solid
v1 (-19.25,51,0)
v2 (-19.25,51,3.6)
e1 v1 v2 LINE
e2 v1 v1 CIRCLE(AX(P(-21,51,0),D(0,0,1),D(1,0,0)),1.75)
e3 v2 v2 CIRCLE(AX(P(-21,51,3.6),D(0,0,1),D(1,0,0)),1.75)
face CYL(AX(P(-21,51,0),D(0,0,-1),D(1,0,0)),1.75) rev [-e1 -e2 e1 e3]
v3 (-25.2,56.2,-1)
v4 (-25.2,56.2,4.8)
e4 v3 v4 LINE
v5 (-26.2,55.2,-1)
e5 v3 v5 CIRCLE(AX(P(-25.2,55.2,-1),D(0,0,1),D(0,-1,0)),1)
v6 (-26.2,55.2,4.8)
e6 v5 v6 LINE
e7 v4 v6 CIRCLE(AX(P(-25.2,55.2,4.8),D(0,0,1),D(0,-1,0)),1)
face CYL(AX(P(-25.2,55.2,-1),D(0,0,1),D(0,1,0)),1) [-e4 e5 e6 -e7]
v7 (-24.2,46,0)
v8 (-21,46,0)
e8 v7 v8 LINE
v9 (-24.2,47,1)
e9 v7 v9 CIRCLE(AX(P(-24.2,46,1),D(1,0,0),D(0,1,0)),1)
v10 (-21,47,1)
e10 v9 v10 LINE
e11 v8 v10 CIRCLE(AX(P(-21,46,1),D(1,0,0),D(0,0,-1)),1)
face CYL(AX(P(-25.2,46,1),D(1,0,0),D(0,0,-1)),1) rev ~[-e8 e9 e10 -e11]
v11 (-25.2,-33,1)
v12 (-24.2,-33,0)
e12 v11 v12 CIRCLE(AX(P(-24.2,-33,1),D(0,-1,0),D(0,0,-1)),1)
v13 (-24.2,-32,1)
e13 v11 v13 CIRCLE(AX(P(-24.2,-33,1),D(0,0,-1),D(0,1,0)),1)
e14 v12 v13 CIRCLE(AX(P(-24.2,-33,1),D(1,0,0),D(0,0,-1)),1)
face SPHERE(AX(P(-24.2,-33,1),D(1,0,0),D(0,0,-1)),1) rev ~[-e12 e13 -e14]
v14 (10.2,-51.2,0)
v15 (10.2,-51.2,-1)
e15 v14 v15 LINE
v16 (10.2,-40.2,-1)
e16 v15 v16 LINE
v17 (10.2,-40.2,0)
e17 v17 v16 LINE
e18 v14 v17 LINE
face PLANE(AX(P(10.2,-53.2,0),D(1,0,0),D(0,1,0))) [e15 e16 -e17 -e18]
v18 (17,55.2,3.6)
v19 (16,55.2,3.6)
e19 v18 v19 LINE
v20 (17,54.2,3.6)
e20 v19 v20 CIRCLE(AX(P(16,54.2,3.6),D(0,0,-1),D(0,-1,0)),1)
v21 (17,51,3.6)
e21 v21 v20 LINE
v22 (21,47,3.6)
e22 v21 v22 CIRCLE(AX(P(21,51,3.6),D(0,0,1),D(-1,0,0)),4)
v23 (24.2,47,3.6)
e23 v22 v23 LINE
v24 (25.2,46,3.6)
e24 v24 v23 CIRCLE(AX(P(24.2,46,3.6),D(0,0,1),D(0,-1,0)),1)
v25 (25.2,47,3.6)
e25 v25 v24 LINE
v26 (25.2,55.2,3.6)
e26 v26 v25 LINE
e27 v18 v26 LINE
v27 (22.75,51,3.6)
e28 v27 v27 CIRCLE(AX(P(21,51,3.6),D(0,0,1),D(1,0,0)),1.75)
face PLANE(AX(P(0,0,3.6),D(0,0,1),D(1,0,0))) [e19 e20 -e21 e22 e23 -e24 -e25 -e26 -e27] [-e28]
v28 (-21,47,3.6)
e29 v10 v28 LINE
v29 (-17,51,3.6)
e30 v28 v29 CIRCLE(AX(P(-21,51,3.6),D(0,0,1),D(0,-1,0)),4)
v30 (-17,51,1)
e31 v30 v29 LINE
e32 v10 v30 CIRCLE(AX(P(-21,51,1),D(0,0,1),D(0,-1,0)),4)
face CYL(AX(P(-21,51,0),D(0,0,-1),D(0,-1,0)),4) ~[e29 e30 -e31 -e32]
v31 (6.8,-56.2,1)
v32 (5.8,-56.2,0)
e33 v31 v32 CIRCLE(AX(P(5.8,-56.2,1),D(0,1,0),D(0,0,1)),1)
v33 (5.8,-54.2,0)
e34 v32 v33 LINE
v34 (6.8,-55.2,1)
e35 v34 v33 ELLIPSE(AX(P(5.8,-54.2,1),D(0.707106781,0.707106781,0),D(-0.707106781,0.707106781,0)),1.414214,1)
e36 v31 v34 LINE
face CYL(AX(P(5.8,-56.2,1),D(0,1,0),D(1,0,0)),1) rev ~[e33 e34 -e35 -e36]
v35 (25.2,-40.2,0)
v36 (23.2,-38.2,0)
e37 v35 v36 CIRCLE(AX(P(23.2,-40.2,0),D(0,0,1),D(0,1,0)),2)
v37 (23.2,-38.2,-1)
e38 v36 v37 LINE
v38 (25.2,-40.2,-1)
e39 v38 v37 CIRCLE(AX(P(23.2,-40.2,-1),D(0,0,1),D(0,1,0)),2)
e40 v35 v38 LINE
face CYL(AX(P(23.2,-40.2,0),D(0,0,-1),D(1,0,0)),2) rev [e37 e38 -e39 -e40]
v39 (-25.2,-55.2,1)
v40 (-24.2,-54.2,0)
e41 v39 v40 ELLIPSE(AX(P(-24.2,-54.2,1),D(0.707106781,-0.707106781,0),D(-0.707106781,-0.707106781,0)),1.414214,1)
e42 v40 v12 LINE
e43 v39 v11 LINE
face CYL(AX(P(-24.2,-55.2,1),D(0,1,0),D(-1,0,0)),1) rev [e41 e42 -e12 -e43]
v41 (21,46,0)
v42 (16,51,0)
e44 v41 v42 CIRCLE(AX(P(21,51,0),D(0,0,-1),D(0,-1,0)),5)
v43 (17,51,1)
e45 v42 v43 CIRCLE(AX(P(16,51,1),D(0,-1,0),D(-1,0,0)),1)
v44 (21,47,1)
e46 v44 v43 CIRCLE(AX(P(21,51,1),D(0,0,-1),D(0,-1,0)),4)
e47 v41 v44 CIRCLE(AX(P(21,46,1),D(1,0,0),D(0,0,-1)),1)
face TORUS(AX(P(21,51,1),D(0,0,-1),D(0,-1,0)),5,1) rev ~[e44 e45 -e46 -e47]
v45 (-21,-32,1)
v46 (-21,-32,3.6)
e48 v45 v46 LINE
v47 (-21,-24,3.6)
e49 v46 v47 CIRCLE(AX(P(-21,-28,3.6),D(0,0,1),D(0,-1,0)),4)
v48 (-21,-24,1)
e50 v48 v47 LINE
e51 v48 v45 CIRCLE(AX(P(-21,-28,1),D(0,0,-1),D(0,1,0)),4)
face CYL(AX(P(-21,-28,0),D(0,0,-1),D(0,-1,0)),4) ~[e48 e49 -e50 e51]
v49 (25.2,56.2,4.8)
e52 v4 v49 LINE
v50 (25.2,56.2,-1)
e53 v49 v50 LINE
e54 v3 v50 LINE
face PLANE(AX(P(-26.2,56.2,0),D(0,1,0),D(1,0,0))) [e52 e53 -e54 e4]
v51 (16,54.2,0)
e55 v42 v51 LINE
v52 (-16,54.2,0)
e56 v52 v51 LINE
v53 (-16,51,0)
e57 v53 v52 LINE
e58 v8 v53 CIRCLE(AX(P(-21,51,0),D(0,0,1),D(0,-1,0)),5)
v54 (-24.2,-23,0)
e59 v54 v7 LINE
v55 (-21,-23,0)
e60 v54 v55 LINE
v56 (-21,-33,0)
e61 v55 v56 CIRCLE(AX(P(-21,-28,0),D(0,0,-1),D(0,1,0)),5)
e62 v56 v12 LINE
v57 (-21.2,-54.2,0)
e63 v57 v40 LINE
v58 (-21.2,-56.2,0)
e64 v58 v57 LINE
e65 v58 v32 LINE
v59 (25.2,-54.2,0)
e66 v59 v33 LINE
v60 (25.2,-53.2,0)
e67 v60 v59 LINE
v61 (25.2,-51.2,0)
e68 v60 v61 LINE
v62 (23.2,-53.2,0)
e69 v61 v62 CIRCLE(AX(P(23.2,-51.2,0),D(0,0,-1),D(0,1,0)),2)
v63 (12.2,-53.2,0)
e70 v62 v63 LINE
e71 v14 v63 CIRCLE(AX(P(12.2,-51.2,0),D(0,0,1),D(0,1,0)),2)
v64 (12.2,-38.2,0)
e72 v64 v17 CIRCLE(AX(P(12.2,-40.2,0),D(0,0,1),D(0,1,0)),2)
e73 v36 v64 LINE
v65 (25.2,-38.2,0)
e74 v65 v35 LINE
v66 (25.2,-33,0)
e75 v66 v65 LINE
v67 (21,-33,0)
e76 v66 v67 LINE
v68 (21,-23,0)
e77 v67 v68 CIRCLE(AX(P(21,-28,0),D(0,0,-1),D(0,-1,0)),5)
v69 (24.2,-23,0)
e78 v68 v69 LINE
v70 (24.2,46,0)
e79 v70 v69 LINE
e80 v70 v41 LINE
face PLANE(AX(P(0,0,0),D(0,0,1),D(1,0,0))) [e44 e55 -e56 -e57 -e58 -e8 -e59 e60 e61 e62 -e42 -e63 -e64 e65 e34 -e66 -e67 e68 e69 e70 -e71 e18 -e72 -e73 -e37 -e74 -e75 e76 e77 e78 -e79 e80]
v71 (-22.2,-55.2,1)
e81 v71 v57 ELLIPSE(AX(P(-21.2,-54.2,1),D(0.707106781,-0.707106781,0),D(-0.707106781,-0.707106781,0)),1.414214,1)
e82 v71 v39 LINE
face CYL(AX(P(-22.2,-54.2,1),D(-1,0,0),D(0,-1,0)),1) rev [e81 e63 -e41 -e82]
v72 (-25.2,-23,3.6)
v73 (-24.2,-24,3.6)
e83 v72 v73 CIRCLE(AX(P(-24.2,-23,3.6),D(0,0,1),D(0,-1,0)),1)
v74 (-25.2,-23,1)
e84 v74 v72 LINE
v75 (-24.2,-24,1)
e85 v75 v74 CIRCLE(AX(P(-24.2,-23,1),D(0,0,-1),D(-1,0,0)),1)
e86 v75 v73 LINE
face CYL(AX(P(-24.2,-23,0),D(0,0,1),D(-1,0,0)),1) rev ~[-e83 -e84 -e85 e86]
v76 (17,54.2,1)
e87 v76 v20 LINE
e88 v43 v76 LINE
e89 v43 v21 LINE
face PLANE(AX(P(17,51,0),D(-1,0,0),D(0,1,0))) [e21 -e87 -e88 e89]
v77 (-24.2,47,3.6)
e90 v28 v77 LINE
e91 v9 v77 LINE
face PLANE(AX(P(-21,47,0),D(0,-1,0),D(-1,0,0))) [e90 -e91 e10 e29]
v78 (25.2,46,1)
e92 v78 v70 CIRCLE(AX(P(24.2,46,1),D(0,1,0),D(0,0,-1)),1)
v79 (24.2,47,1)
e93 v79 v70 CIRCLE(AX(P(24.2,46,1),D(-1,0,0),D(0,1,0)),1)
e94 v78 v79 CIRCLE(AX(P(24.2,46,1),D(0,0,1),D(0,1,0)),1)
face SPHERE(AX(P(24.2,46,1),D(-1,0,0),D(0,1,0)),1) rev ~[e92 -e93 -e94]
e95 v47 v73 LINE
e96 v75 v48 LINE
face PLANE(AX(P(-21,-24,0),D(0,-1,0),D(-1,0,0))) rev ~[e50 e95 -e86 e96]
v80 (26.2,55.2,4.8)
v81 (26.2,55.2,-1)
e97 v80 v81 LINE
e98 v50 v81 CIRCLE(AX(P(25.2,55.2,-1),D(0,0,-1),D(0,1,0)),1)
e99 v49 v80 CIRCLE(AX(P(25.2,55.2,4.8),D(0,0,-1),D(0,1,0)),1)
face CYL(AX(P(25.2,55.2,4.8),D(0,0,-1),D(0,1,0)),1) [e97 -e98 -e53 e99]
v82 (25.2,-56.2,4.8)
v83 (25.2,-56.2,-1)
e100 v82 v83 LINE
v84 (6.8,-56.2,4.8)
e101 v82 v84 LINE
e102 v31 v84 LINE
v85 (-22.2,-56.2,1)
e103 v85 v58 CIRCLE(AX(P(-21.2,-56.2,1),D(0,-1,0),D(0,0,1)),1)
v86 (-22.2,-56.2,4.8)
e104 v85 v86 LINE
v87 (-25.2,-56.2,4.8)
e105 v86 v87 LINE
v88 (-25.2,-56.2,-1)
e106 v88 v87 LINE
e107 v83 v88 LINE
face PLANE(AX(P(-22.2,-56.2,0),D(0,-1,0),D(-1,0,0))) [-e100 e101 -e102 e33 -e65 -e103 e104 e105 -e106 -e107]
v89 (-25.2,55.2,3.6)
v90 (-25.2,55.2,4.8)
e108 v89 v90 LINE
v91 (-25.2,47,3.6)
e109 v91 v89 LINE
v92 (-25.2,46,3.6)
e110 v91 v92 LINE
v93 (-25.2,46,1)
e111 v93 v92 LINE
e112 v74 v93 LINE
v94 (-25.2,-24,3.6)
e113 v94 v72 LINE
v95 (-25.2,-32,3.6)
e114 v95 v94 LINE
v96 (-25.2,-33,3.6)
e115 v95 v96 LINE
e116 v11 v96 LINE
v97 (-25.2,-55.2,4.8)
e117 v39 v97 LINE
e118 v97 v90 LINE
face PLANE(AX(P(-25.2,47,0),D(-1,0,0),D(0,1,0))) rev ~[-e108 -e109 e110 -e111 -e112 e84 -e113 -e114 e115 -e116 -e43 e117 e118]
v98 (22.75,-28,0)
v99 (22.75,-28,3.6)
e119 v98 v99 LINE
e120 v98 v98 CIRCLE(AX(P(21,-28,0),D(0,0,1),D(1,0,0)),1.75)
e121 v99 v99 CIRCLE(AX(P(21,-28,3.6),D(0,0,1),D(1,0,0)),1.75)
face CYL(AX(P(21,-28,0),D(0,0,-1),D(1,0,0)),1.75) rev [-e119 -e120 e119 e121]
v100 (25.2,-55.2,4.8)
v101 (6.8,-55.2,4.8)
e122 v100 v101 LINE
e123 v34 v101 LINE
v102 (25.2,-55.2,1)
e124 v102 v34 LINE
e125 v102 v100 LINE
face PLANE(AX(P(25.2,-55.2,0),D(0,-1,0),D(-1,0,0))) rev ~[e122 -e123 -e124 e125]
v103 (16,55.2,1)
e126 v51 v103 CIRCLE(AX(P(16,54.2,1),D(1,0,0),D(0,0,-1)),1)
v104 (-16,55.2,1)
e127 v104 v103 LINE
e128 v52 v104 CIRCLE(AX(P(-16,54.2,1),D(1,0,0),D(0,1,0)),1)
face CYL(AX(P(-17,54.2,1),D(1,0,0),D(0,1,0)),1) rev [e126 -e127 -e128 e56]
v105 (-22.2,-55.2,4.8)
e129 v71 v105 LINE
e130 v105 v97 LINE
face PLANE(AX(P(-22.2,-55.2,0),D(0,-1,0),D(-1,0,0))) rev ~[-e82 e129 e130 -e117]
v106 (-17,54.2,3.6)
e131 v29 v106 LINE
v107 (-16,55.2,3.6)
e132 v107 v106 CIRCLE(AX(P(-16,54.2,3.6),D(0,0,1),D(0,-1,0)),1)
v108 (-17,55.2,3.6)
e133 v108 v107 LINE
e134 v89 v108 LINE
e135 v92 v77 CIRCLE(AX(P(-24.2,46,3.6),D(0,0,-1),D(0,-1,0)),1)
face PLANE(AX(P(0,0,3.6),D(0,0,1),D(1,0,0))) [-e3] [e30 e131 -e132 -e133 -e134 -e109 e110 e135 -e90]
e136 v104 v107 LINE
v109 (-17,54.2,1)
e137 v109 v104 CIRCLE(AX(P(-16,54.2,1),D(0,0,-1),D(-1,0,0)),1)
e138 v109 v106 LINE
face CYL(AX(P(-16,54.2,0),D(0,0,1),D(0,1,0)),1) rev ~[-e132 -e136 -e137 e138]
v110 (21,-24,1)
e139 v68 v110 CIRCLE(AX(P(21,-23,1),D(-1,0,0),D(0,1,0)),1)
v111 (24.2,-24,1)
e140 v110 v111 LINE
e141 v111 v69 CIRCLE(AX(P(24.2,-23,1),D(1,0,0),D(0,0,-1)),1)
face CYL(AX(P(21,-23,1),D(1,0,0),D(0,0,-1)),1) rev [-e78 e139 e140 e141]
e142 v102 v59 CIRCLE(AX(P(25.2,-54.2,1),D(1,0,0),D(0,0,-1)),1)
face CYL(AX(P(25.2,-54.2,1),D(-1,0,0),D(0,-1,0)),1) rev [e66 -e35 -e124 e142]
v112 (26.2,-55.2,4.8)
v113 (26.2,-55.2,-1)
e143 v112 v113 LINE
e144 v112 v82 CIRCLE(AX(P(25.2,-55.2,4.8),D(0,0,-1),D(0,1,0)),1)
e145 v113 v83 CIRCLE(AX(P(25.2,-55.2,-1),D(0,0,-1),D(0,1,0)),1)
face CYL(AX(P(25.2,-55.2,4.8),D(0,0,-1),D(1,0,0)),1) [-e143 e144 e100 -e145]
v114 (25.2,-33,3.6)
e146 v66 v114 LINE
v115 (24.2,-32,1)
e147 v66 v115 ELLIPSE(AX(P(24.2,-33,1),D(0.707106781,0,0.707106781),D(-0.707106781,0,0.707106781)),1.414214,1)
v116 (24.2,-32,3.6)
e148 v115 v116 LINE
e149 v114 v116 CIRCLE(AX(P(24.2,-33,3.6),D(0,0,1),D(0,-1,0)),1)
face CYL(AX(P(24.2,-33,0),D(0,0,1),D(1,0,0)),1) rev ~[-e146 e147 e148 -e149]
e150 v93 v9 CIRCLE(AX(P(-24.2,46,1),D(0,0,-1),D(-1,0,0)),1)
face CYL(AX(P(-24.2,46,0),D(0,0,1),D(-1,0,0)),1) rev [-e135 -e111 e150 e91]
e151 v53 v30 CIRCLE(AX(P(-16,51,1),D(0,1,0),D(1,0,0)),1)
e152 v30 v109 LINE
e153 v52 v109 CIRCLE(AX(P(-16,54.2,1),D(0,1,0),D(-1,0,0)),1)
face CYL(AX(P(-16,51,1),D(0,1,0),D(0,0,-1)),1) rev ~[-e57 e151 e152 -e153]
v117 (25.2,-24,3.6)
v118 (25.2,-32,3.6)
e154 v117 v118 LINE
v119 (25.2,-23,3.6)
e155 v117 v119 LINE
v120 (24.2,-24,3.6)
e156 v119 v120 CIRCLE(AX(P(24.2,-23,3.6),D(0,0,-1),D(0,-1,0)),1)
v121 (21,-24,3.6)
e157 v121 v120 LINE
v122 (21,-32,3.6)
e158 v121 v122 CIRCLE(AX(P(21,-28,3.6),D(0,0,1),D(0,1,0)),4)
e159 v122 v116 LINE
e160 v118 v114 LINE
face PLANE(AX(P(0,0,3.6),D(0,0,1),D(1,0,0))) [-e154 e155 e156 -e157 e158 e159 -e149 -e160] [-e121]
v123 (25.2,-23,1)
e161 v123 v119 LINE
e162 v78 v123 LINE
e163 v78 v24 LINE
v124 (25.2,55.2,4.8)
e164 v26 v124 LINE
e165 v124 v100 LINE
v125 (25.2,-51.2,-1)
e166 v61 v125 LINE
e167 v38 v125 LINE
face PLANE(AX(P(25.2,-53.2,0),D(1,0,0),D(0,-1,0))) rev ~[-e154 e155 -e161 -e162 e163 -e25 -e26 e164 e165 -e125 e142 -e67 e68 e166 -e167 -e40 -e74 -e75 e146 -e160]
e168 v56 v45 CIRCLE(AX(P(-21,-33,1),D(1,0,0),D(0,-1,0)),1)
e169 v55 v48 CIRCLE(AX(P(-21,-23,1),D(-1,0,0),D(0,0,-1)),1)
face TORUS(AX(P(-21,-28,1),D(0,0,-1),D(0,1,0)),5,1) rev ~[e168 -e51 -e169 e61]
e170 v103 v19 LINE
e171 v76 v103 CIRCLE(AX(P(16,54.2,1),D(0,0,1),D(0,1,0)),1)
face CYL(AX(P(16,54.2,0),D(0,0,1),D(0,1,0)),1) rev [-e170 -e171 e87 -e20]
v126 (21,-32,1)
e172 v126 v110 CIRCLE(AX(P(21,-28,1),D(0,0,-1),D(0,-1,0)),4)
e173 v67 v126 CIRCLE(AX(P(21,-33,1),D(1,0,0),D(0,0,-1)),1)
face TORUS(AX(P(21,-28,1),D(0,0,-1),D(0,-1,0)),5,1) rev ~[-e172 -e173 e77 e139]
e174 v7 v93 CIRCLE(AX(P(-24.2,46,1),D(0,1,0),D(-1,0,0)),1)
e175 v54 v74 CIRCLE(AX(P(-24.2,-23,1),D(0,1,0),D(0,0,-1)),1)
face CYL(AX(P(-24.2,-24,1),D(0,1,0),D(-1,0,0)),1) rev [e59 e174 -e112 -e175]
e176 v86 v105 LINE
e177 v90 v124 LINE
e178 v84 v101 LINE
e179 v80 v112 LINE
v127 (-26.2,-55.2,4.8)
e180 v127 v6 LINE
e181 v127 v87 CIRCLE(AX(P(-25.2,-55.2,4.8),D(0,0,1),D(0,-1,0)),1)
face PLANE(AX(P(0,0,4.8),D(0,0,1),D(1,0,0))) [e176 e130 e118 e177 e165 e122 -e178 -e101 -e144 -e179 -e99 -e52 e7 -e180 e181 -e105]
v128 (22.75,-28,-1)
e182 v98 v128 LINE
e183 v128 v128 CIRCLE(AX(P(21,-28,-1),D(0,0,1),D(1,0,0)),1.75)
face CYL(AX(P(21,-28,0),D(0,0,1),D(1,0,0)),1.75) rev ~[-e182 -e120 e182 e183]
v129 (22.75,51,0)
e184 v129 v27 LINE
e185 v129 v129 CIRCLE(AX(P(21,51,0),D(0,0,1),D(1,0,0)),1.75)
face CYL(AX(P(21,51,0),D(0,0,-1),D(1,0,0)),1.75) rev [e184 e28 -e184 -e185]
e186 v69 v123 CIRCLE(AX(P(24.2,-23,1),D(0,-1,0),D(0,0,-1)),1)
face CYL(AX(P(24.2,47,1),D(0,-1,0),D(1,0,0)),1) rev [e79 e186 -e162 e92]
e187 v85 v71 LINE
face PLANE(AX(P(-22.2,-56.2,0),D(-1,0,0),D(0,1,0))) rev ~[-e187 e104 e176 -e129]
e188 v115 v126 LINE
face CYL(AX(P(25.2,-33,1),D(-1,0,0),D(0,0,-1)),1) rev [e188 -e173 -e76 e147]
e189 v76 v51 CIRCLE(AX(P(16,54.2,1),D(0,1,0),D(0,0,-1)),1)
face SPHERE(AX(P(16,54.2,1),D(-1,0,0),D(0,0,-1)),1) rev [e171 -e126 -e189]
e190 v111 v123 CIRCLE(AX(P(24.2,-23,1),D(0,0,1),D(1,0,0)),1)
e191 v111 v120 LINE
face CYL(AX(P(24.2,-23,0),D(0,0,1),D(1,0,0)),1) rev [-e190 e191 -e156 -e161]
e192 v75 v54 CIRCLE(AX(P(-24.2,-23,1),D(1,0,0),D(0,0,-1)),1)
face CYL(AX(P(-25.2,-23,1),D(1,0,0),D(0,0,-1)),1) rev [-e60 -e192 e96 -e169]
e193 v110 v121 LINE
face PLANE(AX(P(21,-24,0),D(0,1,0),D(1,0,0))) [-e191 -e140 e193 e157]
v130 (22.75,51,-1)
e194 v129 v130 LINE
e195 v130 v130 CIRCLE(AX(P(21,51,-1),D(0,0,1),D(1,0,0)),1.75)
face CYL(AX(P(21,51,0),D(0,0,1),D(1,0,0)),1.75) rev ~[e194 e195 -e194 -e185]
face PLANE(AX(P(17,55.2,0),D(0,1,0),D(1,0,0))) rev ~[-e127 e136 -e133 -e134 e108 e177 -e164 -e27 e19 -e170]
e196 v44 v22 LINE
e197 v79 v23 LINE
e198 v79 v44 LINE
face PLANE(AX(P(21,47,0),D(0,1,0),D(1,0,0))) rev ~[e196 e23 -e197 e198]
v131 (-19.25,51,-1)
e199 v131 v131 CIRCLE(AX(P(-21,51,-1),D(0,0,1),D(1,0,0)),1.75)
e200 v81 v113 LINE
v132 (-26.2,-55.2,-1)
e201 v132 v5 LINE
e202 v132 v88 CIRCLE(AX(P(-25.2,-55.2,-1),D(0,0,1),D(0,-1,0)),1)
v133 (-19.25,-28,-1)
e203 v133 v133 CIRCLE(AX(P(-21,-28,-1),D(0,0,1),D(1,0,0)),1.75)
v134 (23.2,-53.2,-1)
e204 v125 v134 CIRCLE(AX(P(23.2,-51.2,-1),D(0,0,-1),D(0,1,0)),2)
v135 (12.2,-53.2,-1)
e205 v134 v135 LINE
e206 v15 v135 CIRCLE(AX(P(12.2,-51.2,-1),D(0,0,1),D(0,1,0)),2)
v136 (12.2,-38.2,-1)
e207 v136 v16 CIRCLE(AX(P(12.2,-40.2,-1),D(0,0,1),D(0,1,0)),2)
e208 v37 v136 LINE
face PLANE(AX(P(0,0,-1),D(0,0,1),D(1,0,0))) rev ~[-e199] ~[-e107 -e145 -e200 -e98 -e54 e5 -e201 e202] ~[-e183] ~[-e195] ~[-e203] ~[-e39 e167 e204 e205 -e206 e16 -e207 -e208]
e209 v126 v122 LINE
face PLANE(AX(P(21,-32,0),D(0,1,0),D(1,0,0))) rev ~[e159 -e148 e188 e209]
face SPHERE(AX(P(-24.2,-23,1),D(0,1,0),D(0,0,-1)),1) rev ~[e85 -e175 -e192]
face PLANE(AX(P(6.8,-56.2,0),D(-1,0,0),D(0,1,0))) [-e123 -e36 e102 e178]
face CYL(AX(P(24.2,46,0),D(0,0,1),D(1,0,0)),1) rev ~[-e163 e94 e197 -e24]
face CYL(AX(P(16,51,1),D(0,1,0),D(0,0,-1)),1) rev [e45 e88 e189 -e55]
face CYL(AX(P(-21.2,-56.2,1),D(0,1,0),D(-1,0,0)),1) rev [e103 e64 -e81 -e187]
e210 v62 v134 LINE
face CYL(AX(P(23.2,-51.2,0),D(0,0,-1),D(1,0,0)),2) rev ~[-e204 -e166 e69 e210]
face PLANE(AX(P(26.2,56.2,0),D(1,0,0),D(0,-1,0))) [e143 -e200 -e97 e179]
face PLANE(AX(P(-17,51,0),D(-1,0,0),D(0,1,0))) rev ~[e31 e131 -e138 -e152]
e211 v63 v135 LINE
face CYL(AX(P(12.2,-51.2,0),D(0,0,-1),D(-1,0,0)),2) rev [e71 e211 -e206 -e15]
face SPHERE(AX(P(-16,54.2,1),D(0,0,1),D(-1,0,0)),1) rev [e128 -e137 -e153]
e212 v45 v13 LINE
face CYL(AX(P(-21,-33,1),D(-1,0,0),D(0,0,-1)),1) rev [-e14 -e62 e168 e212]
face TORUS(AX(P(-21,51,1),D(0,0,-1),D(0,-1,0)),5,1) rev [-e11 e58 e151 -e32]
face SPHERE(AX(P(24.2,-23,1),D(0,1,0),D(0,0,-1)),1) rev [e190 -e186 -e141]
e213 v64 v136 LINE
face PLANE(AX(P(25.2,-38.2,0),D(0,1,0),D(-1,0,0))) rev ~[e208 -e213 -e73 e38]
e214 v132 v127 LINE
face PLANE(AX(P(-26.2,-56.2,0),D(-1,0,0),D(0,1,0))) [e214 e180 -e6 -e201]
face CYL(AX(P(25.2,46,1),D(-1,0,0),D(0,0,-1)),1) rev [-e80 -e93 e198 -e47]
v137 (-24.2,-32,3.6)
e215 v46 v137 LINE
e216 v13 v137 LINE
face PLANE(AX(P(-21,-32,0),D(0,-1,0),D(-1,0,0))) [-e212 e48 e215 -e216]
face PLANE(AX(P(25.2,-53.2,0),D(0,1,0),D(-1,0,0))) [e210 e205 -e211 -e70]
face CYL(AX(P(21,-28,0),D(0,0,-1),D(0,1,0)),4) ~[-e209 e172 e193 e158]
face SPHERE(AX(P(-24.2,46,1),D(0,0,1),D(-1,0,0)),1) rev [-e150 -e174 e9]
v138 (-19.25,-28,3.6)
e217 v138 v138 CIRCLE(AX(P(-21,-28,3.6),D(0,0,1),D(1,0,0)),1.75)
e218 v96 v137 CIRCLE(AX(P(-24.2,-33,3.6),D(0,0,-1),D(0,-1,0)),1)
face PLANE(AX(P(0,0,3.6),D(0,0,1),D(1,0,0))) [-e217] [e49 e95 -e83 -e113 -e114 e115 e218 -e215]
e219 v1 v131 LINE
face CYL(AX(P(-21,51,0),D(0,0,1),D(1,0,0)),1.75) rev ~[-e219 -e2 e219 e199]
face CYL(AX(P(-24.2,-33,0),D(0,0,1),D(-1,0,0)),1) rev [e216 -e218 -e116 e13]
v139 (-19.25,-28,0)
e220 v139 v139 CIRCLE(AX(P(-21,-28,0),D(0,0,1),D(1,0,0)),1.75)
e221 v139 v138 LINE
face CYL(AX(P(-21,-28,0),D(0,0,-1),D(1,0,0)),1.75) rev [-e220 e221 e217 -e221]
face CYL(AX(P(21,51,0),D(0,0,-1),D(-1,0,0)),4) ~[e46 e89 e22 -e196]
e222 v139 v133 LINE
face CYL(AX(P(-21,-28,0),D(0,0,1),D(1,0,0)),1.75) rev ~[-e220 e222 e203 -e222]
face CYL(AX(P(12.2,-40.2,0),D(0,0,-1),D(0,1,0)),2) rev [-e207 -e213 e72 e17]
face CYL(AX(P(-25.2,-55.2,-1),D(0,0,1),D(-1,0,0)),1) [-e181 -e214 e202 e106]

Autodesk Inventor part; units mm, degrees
ref_plane "YZ Plane" through (0, 0, 0) normal (1, 0, 0) x (0, 1, 0)
ref_plane "XZ Plane" through (0, 0, 0) normal (0, 1, 0) x (-1, 0, 0)
ref_plane "XY Plane" through (0, 0, 0) normal (0, 0, 1) x (1, 0, 0)
sketch "スケッチ1" plane through (0, 0, 0) normal (0, 0, 1) x (1, 0, 0)
  line L0 (-26.2, 56.2) -> (26.2, 56.2)
  line L1 (26.2, 56.2) -> (26.2, -56.2)
  line L2 (26.2, -56.2) -> (-26.2, -56.2)
  line L3 (-26.2, -56.2) -> (-26.2, 56.2)
  line L4 (-26.2, 56.2) -> (26.2, -56.2) construction
  line L5 (26.2, 56.2) -> (-26.2, -56.2) construction
  line L6 (-25.2, 55.2) -> (25.2, 55.2)
  line L7 (25.2, 55.2) -> (25.2, -55.2)
  line L8 (25.2, -55.2) -> (-25.2, -55.2)
  line L9 (-25.2, -55.2) -> (-25.2, 55.2)
  line L10 (-25.2, 55.2) -> (25.2, -55.2) construction
  line L11 (25.2, 55.2) -> (-25.2, -55.2) construction
  line L12 (-25, 55) -> (25, 55) construction
  line L13 (25, 55) -> (25, -55) construction
  line L14 (25, -55) -> (-25, -55) construction
  line L15 (-25, -55) -> (-25, 55) construction
  line L16 (-25, 55) -> (25, -55) construction
  line L17 (25, 55) -> (-25, -55) construction
  line L18 (-26.25, 56.25) -> (26.25, 56.25) construction
  line L19 (26.25, 56.25) -> (26.25, -56.25) construction
  line L20 (26.25, -56.25) -> (-26.25, -56.25) construction
  line L21 (-26.25, -56.25) -> (-26.25, 56.25) construction
  line L22 (-26.25, 56.25) -> (26.25, -56.25) construction
  line L23 (26.25, 56.25) -> (-26.25, -56.25) construction
  circle A0 centre (-21, 51) radius 1.75
  circle A1 centre (-21, -28) radius 1.75
  line L24 (0, 56.25) -> (0, -56.25) construction
  circle A2 centre (21, 51) radius 1.75
  circle A3 centre (21, -28) radius 1.75
  arc A4 (-21, -32) -> (-21, -24) centre (-21, -28) ccw
  line L25 (-21, 47) -> (-25.2, 47)
  line L26 (-17, 51) -> (-17, 55.2)
  arc A5 (-21, 47) -> (-17, 51) centre (-21, 51) ccw
  line L27 (-21, -24) -> (-25.2, -24)
  line L28 (-21, -32) -> (-25.2, -32)
  arc A6 (21, -24) -> (21, -32) centre (21, -28) ccw
  line L29 (21, 47) -> (25.2, 47)
  line L30 (17, 51) -> (17, 55.2)
  arc A7 (17, 51) -> (21, 47) centre (21, 51) ccw
  line L31 (21, -24) -> (25.2, -24)
  line L32 (21, -32) -> (25.2, -32)
  line L33 (25.2, -53.2) -> (25.2, -38.2)
  line L34 (25.2, -38.2) -> (10.2, -38.2)
  line L35 (25.2, -53.2) -> (10.2, -53.2)
  line L36 (10.2, -53.2) -> (10.2, -38.2)
  line L37 (-22.2, -56.2) -> (-22.2, -55.2)
  line L38 (6.8, -56.2) -> (6.8, -55.2)
  point P0 (0, 0)
  point P1 (-25.2, -38.2)
  dimension "d0" = 50
  dimension "d1" = 110
  dimension "d2" = 0.2
  dimension "d4" = 0.2
  dimension "d8" = 1
  dimension "d10" = 1
  dimension "d11" = 112.5
  dimension "d12" = 0.05
  dimension "d13" = 0.05
  dimension "d14" = 52.5
  dimension "d15" = 3.5
  dimension "d16" = 4
  dimension "d17" = 4
  dimension "d18" = 3.5
  dimension "d19" = 4
  dimension "d20" = 83
  dimension "d22" = 8
  dimension "d31" = 4
  dimension "d33" = 15
  dimension "d34" = 15
  dimension "d36" = 2
  dimension "d37" = 29
  dimension "d38" = 4
extrude "押し出し1" add sketch "スケッチ1" along normal blind 4.8 contours L0 L1 L2 L38 L8 L7 L6 L9 L37 L3
extrude "押し出し2" add sketch "スケッチ1" against normal blind 1 contours L0 L1 L2 L38 L8 L7 L6 L9 L37 L3 | L37 L8 L38 L2 | L8 L9 L28 A4 L27 L25 A5 L26 L6 L30 A7 L29 L7 L31 A6 L32 L34 L36 L35 | L9 L27 A4 L28 | L9 L6 L26 A5 L25 | L32 A6 L31 L7 | L29 A7 L30 L6 L7
extrude "押し出し3" add sketch "スケッチ1" along normal blind 3.6 contours L9 L27 A4 L28 | L9 L6 L26 A5 L25 | L32 A6 L31 L7 | L29 A7 L30 L6 L7
fillet "フィレット1" radius 1 4 edges at (-26.2, -56.2, 1.9) (26.2, -56.2, 1.9) (26.2, 56.2, 1.9) (-26.2, 56.2, 1.9)
fillet "フィレット2" radius 1 28 edges at (-25.2, 47, 1.8) (-17, 55.2, 1.8) (-25.2, 11.5, 0) (-18.1716, 48.1716, 0) (-17, 53.1, 0) (-23.1, 47, 0) (0, 55.2, 0) (17, 53.1, 0) (23.1, 47, 0) (18.1716, 48.1716, 0) (17, 55.2, 1.8) (25.2, 47, 1.8) (25.2, 11.5, 0) (25.2, -32, 1.8) (23.1, -24, 0) (23.1, -32, 0) (17, -28, 0) (-23.1, -32, 0) (-23.1, -24, 0) (-17, -28, 0) (16, -55.2, 0) (-23.7, -55.2, 0) (-25.2, -43.6, 0) (-25.2, -32, 1.8) (-25.2, -24, 1.8) (25.2, -24, 1.8) (-22.2, -55.7, 0) (6.8, -55.7, 0)
fillet "フィレット4" radius 2 4 edges at (10.2, -38.2, -0.5) (10.2, -53.2, -0.5) (25.2, -53.2, -0.5) (25.2, -38.2, -0.5)
equation "\"d4\" = d2"
equation "\"d13\" = d12"
equation "\"d17\" = d16"
equation "\"d18\" = d15"
equation "\"d19\" = d17"
equation "\"d22\" = 2 * d31"
properties part number "J120_cover" material "アセタール樹脂、黒"
